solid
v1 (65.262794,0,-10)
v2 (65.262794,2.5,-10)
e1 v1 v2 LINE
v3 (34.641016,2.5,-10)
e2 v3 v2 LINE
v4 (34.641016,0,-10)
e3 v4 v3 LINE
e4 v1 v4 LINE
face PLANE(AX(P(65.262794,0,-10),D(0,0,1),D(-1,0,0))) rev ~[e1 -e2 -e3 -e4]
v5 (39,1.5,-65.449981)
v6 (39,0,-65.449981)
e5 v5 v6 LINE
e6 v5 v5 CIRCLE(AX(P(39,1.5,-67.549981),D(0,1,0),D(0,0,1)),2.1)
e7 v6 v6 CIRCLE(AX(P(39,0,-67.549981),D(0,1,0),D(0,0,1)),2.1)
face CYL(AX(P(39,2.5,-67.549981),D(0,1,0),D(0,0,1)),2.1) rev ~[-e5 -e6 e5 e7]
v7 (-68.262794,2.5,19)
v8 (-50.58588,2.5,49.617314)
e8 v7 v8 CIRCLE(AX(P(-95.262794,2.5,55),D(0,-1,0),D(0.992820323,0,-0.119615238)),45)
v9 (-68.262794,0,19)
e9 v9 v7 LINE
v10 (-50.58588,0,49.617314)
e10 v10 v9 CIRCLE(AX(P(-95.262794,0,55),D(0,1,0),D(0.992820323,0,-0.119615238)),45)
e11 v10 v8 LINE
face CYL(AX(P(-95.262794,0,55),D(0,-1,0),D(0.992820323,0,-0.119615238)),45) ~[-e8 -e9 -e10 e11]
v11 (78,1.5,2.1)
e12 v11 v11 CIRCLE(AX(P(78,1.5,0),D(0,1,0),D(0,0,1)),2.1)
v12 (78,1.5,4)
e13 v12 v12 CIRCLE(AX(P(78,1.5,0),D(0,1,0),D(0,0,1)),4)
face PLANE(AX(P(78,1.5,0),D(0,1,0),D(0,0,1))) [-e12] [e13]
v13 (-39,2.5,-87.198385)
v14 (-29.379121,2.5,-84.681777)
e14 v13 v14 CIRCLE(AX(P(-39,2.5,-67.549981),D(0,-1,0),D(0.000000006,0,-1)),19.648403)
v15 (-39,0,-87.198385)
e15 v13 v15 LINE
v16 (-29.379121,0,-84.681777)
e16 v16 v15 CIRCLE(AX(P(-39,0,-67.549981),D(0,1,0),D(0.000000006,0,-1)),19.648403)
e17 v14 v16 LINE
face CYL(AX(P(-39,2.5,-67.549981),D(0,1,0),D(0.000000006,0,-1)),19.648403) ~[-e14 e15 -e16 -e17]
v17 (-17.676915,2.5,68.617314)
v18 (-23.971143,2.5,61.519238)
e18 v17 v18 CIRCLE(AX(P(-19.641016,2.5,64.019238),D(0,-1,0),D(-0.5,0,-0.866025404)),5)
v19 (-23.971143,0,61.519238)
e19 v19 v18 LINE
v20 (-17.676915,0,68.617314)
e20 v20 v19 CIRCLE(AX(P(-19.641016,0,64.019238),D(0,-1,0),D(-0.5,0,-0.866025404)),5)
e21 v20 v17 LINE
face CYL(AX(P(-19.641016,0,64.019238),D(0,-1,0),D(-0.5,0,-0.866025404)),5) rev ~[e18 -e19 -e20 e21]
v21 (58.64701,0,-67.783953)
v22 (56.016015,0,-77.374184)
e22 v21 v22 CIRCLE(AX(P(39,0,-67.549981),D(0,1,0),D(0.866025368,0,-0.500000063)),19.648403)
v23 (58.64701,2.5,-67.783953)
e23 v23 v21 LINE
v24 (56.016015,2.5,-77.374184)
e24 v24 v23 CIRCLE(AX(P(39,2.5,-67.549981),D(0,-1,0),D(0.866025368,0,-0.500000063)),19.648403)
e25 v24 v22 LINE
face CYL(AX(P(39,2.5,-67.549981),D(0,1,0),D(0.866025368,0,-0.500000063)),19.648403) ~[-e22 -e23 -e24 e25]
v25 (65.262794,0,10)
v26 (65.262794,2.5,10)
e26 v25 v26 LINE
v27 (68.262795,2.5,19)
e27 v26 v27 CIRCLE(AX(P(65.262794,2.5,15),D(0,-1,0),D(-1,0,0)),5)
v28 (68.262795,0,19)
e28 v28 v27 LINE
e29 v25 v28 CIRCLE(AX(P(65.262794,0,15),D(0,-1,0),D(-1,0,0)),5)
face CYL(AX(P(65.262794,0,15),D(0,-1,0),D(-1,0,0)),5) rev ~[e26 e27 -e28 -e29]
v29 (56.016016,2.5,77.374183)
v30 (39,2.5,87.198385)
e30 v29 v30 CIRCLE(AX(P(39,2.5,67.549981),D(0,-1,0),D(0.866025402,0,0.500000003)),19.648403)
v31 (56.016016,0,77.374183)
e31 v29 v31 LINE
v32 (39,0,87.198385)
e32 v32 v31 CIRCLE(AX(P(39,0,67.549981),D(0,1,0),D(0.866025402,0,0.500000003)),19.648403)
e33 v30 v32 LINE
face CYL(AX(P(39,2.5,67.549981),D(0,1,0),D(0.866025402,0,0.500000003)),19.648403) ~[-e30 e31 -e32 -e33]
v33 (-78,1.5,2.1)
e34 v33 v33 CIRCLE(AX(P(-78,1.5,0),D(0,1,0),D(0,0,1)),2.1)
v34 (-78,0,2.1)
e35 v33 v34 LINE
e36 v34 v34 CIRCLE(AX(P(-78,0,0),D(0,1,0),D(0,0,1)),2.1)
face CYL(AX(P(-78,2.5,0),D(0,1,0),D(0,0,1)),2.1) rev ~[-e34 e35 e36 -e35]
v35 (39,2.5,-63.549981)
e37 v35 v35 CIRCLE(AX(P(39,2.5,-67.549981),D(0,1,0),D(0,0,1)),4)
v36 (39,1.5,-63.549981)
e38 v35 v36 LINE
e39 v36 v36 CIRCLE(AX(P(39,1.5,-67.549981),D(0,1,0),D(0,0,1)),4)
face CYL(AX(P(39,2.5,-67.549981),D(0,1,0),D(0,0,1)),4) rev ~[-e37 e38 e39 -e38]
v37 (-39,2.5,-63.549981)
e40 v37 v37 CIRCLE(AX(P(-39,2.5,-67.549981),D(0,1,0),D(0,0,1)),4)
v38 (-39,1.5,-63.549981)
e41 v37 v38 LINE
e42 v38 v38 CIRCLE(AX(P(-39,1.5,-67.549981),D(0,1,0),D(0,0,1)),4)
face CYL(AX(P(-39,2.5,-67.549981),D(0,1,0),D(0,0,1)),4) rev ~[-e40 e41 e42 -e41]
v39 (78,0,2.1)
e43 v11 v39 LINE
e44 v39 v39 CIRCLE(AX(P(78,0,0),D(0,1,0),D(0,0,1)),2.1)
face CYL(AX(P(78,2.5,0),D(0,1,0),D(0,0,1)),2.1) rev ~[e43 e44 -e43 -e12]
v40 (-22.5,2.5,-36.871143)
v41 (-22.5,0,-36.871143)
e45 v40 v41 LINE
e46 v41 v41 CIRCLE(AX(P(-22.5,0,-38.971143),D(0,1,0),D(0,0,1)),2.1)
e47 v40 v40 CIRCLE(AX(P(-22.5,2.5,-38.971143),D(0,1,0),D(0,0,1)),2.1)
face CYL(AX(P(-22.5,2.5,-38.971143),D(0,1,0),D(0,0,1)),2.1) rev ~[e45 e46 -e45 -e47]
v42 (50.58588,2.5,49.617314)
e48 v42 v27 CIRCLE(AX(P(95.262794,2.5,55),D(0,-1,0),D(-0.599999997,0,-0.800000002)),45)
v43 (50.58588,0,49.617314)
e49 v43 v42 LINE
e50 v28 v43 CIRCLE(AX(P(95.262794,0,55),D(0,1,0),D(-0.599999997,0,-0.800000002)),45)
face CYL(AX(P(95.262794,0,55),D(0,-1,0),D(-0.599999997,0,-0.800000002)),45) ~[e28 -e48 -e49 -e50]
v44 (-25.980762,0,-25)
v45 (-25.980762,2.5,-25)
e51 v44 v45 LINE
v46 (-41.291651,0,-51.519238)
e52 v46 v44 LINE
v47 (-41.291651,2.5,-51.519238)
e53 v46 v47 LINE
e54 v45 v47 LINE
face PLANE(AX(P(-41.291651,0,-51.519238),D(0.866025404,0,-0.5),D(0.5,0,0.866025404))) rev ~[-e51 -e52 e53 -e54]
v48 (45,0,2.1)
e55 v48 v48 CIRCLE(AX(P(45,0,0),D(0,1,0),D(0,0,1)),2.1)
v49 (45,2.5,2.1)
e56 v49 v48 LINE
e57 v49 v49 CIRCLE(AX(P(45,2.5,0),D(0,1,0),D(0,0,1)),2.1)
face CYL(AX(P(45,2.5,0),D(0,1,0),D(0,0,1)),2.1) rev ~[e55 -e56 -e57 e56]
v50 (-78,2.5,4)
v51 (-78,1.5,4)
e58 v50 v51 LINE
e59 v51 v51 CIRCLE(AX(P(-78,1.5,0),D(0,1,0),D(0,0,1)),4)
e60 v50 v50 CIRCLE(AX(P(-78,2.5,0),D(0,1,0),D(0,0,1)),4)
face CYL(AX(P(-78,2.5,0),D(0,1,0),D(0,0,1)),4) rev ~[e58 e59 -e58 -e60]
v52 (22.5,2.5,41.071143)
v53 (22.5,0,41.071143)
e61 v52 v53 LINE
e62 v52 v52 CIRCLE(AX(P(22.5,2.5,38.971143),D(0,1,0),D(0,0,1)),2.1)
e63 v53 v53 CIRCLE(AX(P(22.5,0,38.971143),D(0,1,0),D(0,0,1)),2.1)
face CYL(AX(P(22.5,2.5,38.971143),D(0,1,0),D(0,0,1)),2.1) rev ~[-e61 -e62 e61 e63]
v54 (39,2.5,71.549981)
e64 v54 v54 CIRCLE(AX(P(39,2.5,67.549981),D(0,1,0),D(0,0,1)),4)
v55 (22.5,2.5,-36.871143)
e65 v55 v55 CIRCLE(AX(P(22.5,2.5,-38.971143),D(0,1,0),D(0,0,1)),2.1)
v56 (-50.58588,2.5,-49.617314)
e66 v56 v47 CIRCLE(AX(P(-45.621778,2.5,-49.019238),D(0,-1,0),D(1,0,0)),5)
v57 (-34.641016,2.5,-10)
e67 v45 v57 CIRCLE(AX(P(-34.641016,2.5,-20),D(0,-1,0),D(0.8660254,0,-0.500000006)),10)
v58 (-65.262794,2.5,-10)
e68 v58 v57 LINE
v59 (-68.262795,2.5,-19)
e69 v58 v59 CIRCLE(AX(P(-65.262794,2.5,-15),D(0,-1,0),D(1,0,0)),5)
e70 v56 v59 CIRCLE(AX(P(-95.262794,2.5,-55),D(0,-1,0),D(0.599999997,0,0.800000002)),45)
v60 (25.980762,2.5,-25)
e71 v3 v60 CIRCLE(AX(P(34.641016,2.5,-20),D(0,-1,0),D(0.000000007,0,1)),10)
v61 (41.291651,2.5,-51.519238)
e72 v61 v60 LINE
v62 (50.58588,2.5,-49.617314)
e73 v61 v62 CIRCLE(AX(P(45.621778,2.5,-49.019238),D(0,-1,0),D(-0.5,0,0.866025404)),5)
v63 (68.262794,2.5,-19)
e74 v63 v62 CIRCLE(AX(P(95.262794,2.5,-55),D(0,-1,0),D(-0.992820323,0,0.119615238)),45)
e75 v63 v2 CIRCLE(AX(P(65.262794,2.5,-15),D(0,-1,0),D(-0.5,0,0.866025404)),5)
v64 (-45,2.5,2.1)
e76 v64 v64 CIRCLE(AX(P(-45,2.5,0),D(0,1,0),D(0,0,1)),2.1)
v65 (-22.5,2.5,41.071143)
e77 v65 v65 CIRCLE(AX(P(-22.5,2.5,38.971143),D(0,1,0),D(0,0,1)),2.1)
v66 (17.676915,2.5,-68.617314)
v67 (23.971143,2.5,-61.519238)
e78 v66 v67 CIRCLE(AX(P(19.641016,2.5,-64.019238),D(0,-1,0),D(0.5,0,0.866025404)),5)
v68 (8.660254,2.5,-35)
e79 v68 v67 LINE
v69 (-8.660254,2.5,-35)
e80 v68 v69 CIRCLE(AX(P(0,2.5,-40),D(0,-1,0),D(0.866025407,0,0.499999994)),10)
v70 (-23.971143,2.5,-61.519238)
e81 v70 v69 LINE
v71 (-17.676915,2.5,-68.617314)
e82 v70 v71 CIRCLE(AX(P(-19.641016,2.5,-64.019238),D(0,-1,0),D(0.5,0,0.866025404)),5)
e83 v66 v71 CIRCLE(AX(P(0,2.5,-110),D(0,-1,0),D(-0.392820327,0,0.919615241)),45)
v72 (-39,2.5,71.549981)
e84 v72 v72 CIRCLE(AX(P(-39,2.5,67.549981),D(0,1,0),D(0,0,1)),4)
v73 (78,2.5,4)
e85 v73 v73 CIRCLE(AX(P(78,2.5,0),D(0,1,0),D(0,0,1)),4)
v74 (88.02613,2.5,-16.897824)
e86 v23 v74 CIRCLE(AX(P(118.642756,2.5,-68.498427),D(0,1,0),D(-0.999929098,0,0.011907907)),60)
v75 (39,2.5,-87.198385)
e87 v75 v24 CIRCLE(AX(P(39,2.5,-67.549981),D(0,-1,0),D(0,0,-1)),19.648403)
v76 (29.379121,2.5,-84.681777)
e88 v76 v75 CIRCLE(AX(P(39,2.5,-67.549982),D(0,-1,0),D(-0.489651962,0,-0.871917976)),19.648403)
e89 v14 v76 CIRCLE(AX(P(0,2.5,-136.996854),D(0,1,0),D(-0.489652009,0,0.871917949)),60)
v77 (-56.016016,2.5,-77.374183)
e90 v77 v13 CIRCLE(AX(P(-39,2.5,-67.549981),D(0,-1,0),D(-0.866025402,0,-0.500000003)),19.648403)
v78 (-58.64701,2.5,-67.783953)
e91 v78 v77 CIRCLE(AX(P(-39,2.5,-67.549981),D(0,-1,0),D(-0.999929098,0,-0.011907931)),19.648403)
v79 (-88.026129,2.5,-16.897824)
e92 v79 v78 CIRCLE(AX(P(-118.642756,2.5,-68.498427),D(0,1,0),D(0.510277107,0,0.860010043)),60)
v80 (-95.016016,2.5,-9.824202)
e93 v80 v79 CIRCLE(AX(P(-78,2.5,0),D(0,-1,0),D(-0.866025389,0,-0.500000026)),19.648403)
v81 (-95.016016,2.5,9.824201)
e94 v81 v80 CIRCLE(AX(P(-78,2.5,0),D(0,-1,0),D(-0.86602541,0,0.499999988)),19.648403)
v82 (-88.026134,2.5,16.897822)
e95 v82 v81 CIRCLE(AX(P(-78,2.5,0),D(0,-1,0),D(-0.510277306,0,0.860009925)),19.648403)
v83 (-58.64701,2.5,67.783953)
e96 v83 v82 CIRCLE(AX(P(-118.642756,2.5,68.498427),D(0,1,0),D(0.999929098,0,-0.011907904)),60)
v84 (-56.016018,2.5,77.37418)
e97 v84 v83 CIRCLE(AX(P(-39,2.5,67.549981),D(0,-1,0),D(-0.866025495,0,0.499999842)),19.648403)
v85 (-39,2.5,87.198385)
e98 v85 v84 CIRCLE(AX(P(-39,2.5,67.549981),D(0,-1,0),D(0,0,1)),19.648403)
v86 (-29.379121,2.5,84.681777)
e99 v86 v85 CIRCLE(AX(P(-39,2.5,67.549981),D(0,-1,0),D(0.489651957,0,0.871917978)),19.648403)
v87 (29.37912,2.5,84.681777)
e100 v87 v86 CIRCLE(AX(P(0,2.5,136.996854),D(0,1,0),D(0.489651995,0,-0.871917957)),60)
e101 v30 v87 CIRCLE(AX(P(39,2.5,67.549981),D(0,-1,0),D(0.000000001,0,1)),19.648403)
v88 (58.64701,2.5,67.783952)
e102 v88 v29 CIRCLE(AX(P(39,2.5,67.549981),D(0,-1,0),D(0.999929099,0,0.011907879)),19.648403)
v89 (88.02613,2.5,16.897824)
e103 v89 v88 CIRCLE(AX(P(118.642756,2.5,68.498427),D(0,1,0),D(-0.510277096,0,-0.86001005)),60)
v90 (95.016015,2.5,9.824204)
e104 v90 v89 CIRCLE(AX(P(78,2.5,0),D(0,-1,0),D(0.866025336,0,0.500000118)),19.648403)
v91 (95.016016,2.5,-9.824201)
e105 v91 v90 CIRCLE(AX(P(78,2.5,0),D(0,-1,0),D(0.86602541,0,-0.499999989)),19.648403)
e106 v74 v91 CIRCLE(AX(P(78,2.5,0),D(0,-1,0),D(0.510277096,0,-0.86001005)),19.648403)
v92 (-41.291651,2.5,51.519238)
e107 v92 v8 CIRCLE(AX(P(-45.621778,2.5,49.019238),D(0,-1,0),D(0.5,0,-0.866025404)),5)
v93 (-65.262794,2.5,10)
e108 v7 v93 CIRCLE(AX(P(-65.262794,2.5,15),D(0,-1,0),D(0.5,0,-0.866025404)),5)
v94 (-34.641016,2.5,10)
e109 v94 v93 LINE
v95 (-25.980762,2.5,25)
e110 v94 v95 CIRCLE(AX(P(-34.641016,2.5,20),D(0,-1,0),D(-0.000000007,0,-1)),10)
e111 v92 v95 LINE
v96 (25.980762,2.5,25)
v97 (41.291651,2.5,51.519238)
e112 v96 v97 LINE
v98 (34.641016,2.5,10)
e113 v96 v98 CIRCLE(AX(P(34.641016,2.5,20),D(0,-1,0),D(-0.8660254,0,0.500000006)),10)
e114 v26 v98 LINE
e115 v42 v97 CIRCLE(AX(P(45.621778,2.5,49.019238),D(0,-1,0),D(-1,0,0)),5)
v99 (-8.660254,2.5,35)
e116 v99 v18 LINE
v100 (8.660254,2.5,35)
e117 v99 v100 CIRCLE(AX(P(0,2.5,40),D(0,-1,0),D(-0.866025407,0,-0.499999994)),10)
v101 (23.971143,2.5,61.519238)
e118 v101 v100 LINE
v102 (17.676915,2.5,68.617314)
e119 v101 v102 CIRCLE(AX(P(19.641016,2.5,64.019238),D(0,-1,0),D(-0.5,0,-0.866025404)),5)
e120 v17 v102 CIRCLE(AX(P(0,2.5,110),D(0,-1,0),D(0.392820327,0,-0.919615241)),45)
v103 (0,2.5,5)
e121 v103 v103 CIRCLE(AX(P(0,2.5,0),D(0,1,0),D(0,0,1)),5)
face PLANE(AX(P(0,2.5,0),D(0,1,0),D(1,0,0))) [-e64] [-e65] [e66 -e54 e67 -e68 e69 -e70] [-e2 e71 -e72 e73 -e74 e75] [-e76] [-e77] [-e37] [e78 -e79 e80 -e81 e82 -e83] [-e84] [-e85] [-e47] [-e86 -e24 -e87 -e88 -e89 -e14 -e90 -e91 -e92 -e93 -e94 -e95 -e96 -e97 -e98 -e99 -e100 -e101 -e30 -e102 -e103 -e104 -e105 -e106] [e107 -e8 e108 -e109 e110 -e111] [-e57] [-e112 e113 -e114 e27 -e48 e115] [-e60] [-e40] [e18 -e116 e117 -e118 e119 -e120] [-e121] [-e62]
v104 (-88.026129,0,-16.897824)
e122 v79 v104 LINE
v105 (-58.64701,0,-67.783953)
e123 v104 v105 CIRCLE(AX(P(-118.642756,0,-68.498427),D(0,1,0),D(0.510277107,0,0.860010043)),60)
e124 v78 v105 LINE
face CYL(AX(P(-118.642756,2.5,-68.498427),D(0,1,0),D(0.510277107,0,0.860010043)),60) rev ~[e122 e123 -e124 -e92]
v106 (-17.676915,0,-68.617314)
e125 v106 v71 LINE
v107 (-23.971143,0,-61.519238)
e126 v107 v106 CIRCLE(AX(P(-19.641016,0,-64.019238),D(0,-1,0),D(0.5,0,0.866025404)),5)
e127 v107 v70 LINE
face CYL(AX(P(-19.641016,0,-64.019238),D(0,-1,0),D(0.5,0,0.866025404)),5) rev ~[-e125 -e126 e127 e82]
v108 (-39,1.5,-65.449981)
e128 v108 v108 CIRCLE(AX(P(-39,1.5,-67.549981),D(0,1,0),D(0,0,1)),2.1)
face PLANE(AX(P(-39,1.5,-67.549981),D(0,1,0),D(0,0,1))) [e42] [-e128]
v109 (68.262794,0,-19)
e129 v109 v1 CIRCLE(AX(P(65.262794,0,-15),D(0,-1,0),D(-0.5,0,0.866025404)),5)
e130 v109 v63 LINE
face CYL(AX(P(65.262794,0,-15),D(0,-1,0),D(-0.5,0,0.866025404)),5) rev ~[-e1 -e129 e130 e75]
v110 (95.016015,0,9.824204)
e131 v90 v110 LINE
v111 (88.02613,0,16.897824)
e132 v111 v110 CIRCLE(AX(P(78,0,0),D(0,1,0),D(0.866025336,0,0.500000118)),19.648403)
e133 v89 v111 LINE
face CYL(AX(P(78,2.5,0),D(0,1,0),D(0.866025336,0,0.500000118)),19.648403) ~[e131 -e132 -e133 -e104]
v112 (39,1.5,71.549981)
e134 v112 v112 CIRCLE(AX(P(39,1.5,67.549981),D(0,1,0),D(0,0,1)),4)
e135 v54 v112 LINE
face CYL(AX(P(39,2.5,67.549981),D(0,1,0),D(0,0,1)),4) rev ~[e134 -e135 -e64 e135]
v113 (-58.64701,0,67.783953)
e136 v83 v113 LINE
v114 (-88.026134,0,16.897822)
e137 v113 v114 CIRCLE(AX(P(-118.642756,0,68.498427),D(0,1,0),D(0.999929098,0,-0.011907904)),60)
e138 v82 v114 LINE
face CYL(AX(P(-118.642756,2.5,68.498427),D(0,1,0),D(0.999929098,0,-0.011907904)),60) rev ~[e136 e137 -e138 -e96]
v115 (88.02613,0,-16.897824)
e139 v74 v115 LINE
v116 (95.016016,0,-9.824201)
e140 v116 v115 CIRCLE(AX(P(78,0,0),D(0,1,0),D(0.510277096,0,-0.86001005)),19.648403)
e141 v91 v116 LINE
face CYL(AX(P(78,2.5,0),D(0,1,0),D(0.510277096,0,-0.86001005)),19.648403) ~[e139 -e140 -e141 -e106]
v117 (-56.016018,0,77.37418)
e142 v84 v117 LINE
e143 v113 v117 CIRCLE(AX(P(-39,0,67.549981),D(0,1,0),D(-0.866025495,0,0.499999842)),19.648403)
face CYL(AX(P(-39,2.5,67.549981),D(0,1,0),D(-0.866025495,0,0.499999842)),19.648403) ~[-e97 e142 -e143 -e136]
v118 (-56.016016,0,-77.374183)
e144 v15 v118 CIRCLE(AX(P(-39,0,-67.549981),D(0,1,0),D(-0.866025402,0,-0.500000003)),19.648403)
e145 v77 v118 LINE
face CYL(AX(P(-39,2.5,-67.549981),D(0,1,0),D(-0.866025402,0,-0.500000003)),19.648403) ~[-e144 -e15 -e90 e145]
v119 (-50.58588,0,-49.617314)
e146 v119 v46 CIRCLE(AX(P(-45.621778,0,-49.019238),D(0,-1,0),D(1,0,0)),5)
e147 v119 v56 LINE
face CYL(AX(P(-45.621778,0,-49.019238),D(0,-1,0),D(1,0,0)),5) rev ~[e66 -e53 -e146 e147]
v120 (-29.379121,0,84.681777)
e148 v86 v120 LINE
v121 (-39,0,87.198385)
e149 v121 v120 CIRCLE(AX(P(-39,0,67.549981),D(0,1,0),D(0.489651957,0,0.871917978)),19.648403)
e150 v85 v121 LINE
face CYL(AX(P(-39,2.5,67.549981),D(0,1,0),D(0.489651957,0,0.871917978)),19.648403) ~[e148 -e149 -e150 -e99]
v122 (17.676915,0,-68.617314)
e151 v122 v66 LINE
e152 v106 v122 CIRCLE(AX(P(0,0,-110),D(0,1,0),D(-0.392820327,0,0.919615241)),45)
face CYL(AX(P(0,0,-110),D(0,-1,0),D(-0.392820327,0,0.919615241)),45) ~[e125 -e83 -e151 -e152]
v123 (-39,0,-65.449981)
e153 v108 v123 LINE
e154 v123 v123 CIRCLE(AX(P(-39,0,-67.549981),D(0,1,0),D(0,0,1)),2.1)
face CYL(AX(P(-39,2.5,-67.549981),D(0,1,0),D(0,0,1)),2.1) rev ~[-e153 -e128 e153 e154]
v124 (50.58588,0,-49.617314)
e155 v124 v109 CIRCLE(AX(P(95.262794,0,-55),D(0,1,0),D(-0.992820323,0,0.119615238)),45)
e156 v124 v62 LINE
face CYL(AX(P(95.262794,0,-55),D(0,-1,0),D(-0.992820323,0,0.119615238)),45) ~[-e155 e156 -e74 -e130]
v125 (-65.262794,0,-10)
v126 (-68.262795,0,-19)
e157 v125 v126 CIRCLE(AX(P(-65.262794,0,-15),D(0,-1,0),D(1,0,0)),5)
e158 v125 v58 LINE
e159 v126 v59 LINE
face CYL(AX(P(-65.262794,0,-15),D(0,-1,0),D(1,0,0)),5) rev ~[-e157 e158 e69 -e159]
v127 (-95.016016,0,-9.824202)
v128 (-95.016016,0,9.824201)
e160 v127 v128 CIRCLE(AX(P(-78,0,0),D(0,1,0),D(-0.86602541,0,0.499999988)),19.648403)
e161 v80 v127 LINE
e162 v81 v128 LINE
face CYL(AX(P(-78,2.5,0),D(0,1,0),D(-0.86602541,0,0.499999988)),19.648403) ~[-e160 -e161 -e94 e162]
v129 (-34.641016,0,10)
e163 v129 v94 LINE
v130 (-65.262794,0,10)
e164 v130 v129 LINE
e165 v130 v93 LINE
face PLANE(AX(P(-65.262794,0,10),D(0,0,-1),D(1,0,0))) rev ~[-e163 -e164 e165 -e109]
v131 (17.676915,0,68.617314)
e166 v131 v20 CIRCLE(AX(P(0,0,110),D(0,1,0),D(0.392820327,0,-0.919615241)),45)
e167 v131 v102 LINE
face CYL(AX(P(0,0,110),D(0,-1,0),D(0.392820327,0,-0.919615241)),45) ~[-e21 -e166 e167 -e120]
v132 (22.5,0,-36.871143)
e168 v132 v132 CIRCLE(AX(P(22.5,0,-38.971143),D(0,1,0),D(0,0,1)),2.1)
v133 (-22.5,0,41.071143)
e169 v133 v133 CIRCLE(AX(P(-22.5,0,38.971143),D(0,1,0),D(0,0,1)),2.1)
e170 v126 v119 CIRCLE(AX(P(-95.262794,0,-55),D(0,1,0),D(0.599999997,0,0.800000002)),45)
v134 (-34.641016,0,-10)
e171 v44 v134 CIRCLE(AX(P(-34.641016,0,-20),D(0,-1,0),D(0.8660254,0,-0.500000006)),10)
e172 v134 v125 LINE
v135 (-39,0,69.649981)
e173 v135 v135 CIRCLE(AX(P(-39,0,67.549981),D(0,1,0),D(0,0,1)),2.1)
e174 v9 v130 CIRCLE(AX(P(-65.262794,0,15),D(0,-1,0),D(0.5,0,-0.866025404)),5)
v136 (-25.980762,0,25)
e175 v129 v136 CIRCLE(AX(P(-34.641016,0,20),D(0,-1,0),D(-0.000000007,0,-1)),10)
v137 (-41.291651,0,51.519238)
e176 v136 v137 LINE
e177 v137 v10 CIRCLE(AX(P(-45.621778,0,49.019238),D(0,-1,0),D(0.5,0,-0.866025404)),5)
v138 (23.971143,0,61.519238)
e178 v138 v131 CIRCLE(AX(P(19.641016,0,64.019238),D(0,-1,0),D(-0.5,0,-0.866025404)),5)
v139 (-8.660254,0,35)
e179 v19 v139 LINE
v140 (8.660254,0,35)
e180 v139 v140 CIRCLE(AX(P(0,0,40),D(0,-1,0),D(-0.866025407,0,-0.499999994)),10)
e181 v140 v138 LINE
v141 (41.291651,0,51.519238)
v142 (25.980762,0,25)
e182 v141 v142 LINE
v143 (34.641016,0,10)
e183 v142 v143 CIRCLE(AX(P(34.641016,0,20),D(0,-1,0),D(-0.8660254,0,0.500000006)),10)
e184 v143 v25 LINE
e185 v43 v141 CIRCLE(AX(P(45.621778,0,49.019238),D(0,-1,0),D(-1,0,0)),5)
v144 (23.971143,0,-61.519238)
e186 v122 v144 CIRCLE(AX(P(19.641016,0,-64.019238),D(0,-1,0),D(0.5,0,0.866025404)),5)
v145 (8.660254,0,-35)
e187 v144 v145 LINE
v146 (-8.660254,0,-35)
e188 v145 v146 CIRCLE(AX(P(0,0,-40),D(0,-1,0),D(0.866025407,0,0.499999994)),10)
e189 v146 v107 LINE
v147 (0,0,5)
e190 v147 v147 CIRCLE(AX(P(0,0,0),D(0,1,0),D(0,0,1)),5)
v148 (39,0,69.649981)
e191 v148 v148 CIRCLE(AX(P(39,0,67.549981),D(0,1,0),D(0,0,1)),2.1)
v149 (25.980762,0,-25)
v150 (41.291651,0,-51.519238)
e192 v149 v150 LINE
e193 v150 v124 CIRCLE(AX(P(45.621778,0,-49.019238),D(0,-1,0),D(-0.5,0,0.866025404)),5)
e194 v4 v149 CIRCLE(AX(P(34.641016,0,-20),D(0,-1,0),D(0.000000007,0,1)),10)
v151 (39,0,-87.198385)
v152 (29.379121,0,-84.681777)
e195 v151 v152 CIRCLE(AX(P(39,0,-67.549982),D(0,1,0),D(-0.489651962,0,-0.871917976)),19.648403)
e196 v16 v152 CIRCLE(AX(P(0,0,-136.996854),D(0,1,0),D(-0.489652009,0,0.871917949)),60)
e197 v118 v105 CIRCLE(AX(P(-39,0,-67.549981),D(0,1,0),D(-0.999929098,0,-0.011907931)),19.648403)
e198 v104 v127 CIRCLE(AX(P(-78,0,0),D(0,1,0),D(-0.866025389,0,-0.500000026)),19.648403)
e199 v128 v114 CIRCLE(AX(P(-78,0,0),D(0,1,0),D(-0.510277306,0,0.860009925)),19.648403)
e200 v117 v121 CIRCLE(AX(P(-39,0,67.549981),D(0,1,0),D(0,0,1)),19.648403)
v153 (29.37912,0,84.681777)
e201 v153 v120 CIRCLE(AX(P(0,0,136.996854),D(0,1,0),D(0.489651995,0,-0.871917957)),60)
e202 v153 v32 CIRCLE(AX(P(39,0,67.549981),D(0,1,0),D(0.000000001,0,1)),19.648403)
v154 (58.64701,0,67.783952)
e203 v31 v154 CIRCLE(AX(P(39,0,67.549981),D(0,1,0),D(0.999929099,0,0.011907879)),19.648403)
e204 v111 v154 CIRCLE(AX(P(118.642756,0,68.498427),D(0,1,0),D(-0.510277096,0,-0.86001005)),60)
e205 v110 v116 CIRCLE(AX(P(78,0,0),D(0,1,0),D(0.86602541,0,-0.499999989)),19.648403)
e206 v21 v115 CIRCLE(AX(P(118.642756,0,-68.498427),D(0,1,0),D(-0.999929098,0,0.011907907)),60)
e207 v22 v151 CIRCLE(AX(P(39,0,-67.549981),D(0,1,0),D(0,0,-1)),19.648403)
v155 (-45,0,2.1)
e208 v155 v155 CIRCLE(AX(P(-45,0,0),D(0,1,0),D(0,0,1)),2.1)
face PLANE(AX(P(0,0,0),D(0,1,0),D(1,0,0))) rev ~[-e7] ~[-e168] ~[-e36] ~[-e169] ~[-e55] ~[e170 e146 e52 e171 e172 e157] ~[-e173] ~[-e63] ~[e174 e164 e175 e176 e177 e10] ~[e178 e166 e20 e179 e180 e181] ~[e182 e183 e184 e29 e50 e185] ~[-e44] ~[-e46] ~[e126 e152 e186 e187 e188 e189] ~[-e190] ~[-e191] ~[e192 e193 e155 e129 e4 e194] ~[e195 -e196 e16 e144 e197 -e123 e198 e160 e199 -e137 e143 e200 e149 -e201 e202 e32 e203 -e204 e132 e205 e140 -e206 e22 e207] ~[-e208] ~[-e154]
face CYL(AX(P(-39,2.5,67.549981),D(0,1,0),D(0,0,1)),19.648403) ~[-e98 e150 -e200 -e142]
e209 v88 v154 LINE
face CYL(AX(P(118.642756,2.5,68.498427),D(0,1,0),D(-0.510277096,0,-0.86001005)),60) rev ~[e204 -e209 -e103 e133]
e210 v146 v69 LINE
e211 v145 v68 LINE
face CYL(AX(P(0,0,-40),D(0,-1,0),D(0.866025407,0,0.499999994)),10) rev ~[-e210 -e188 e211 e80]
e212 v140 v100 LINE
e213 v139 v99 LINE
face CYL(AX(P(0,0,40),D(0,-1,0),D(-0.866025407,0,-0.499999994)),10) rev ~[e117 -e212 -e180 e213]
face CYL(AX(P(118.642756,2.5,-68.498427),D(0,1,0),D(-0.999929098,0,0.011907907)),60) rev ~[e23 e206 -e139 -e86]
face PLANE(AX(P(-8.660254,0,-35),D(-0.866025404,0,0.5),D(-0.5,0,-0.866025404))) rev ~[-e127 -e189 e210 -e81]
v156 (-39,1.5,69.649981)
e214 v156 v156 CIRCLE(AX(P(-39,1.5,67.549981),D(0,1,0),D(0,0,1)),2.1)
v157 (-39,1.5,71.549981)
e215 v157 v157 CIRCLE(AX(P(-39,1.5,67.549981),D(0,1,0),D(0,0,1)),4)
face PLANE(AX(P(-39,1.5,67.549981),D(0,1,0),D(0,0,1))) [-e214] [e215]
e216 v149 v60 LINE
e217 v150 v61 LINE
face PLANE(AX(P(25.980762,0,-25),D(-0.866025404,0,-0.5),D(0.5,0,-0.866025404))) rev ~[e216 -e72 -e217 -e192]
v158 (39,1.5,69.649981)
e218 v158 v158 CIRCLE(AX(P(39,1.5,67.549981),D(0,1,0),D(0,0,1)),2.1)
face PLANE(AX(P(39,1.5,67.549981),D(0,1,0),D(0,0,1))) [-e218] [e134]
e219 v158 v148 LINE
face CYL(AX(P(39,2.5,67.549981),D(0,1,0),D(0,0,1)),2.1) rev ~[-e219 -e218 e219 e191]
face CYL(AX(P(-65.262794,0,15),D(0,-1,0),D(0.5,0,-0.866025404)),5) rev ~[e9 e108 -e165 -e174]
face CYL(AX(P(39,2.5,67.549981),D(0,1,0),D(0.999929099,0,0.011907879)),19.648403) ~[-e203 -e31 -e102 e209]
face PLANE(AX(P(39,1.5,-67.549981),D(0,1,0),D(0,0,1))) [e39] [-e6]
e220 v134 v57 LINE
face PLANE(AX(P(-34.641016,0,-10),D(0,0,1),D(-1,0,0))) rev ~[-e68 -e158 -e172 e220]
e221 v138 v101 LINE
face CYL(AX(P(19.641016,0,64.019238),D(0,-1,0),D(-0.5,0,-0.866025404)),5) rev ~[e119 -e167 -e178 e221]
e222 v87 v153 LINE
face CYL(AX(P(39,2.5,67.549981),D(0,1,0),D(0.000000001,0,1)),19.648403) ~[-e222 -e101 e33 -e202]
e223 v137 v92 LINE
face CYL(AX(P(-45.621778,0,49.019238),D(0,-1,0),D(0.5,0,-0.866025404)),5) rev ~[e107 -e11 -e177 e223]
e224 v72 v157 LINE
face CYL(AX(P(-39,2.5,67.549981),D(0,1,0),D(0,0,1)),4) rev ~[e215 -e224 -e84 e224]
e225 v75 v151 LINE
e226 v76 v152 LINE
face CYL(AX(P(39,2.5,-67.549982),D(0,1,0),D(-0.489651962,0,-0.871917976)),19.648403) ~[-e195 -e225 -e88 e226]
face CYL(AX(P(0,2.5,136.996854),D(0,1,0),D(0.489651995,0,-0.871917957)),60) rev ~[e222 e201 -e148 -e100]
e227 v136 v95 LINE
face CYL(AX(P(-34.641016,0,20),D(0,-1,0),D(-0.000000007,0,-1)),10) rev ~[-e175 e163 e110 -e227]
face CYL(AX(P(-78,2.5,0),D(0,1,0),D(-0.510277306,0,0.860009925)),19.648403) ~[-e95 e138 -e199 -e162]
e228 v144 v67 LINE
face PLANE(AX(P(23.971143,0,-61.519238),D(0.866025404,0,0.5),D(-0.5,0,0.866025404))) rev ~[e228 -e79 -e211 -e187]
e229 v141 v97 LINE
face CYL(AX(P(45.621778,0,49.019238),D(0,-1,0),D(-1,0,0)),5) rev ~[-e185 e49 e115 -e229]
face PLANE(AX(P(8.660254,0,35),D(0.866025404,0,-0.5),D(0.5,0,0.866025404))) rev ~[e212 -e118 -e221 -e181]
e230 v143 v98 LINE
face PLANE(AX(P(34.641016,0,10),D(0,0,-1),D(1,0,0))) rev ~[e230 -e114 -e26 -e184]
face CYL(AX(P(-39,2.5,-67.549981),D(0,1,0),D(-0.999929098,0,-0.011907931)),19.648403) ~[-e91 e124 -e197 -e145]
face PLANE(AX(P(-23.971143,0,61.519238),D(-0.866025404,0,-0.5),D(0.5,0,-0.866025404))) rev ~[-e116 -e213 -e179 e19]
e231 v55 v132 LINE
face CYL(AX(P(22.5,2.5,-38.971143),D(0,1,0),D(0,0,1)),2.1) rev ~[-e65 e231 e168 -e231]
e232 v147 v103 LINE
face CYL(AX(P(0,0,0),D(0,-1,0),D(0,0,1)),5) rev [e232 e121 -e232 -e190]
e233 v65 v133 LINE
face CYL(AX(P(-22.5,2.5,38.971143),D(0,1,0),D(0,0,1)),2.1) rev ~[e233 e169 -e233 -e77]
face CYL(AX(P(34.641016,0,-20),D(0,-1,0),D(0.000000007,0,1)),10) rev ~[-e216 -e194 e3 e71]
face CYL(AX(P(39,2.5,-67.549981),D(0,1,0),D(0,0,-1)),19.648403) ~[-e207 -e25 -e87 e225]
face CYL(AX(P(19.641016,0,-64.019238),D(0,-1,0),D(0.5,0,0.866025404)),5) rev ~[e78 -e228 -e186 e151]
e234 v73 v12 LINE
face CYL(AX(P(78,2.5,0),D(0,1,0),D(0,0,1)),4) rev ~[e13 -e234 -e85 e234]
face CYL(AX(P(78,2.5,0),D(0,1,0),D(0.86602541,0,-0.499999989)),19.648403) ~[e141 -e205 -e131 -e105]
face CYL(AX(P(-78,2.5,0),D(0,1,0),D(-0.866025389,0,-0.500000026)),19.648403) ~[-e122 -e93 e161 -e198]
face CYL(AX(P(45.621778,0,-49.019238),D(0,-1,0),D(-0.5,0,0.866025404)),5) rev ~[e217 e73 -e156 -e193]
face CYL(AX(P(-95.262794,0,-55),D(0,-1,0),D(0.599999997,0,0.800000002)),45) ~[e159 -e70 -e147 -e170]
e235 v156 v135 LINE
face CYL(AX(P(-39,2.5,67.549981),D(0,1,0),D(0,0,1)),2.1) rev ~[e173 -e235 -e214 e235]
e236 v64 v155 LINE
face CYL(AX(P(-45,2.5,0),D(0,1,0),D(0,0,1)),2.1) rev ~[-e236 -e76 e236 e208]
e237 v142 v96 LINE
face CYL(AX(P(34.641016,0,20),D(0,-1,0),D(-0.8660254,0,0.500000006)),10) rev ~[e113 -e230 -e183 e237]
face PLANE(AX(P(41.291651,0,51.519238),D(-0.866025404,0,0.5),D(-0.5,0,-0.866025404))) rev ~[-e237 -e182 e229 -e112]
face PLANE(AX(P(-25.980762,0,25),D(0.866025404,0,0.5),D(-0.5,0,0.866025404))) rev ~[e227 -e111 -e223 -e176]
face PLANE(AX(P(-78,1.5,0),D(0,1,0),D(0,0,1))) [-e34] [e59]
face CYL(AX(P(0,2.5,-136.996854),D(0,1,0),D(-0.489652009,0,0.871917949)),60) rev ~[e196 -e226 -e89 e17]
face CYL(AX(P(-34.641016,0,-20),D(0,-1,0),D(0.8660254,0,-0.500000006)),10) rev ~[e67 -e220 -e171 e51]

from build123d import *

# Parameters (mm, degrees)
SKETCH_2_R               = 5
EXTRUDE_1_DEPTH          = 2.5
SKETCH_3_R               = 2.1
CUT_EXTRUDE_1_DEPTH      = 2.5
EXTRUDE_2_DEPTH          = 2.5
SKETCH_5_R               = 2.1
CUT_EXTRUDE_2_DEPTH      = 10
CUT_EXTRUDE_3_DEPTH      = 10
SKETCH_10_R              = 4
CUT_EXTRUDE_5_DEPTH      = 1
SKETCH_11_R              = 10
SKETCH_11_R_2            = 5
CUT_EXTRUDE_6_DEPTH      = 131.938989117
PATTERN_CIRCULAR_1_COUNT = 6


with BuildPart() as part:
    # 草图2 → 凸台-拉伸1 (new body)
    with BuildSketch(Plane(origin=(0, 0, 0), x_dir=(1, 0, 0), z_dir=(0, 1, 0))):
        Polygon((-54.5, 0), (-27.25, -47.198384506), (27.25, -47.198384506), (54.5, 0), (27.25, 47.198384506), (-27.25, 47.198384506), align=None)
        with Locations(Location((0, 0, 0), (0, 0, 270))):
            Circle(SKETCH_2_R, mode=Mode.SUBTRACT)
    extrude(amount=EXTRUDE_1_DEPTH)

    # 草图3 → 切除-拉伸1 (cut)
    with BuildSketch(Plane(origin=(0, 2.5, 0), x_dir=(1, 0, 0), z_dir=(0, 1, 0))):
        with Locations(Location((-22.5, 38.97114317, 0), (0, 0, 270))):
            Circle(SKETCH_3_R)
        with Locations(Location((22.5, 38.97114317, 0), (0, 0, 270))):
            Circle(SKETCH_3_R)
        with Locations(Location((45, 0, 0), (0, 0, 270))):
            Circle(SKETCH_3_R)
        with Locations(Location((22.5, -38.97114317, 0), (0, 0, 270))):
            Circle(SKETCH_3_R)
        with Locations(Location((-22.5, -38.97114317, 0), (0, 0, 270))):
            Circle(SKETCH_3_R)
        with Locations(Location((-45, 0, 0), (0, 0, 270))):
            Circle(SKETCH_3_R)
    extrude(amount=-CUT_EXTRUDE_1_DEPTH, mode=Mode.SUBTRACT)

    # 草图4 → 凸台-拉伸2 (add)
    with BuildSketch(Plane(origin=(0, 2.5, 0), x_dir=(1, 0, 0), z_dir=(0, 1, 0))):
        Polygon((-100.688021535, 0), (-50.344010768, -87.198384506), (50.344010768, -87.198384506), (100.688021535, 0), (50.344010768, 87.198384506), (-50.344010768, 87.198384506), align=None)
        Polygon((-54.5, 0), (-27.25, -47.198384506), (27.25, -47.198384506), (54.5, 0), (27.25, 47.198384506), (-27.25, 47.198384506), align=None, mode=Mode.SUBTRACT)
    extrude(amount=-EXTRUDE_2_DEPTH)

    # 草图5 → 切除-拉伸2 (cut)
    with BuildSketch(Plane(origin=(0, 2.5, 0), x_dir=(1, 0, 0), z_dir=(0, 1, 0))):
        with Locations(Location((-39, 67.549981495, 0), (0, 0, 270))):
            Circle(SKETCH_5_R)
        with Locations(Location((39, 67.549981495, 0), (0, 0, 270))):
            Circle(SKETCH_5_R)
        with Locations(Location((78, 0, 0), (0, 0, 270))):
            Circle(SKETCH_5_R)
        with Locations(Location((39, -67.549981495, 0), (0, 0, 270))):
            Circle(SKETCH_5_R)
        with Locations(Location((-39, -67.549981495, 0), (0, 0, 270))):
            Circle(SKETCH_5_R)
        with Locations(Location((-78, 0, 0), (0, 0, 270))):
            Circle(SKETCH_5_R)
    extrude(amount=-CUT_EXTRUDE_2_DEPTH, mode=Mode.SUBTRACT)

    # 草图8 → 切除-拉伸3 (cut)
    with BuildSketch(Plane(origin=(0, 2.5, 0), x_dir=(1, 0, 0), z_dir=(0, 1, 0))):
        with BuildLine():
            ThreePointArc((-38.999999879, 87.198384506), (-34.02771086, 86.55882369), (-29.37912053, 84.681777055))
            ThreePointArc((-29.37912053, 84.681777055), (2.23e-07, 76.996854011), (29.379120918, 84.681777273))
            ThreePointArc((29.379120918, 84.681777273), (34.027711134, 86.558823762), (39, 87.198384506))
            Line((39, 87.198384506), (-38.999999879, 87.198384506))
        make_face()
        with BuildLine():
            ThreePointArc((-58.647009902, 67.78395331), (-57.948284774, 72.748274003), (-56.016016118, 77.374183058))
            Line((-56.016016118, 77.374183058), (-95.016015856, 9.824202017))
            ThreePointArc((-95.016015856, 9.824202017), (-91.975995068, 13.810550415), (-88.026129369, 16.897824439))
            ThreePointArc((-88.026129369, 16.897824439), (-66.68123126, 38.498427568), (-58.647009902, 67.78395331))
        make_face()
        with BuildLine():
            ThreePointArc((-56.016016118, 77.374183058), (-48.824201425, 84.565997693), (-38.999999879, 87.198384506))
            Line((-38.999999879, 87.198384506), (-50.344010768, 87.198384506))
            Line((-50.344010768, 87.198384506), (-56.016016118, 77.374183058))
        make_face()
        with BuildLine():
            Line((50.344010768, 87.198384506), (39, 87.198384506))
            ThreePointArc((39, 87.198384506), (48.824200892, 84.565998001), (56.016015443, 77.374184228))
            Line((56.016015443, 77.374184228), (50.344010768, 87.198384506))
        make_face()
        with BuildLine():
            ThreePointArc((-95.016016282, -9.824201279), (-97.648403011, 4.26e-07), (-95.016015856, 9.824202017))
            Line((-95.016015856, 9.824202017), (-100.688021535, 0))
            Line((-100.688021535, 0), (-95.016016282, -9.824201279))
        make_face()
        with BuildLine():
            ThreePointArc((56.016015443, 77.374184228), (57.948284693, 72.7482743), (58.64700991, 67.783952574))
            ThreePointArc((58.64700991, 67.783952574), (66.681231635, 38.498426919), (88.026130025, 16.89782405))
            ThreePointArc((88.026130025, 16.89782405), (91.975995629, 13.810549846), (95.016016274, 9.824201294))
            Line((95.016016274, 9.824201294), (56.016015443, 77.374184228))
        make_face()
        with BuildLine():
            Line((-95.016016282, -9.824201279), (-56.016017948, -77.374179889))
            ThreePointArc((-56.016017948, -77.374179889), (-57.948285332, -72.748271969), (-58.647009908, -67.783952751))
            ThreePointArc((-58.647009908, -67.783952751), (-66.681232791, -38.498424916), (-88.026134156, -16.897821598))
            ThreePointArc((-88.026134156, -16.897821598), (-91.975997324, -13.810548132), (-95.016016282, -9.824201279))
        make_face()
        with BuildLine():
            Line((100.688021535, 0), (95.016016274, 9.824201294))
            ThreePointArc((95.016016274, 9.824201294), (97.648403011, -1.459e-06), (95.016014815, -9.824203821))
            Line((95.016014815, -9.824203821), (100.688021535, 0))
        make_face()
        with BuildLine():
            ThreePointArc((95.016014815, -9.824203821), (91.975994622, -13.810550865), (88.02613007, -16.897824023))
            ThreePointArc((88.02613007, -16.897824023), (66.681231717, -38.498426777), (58.647009914, -67.783952298))
            ThreePointArc((58.647009914, -67.783952298), (57.948284908, -72.748273515), (56.016016118, -77.374183058))
            Line((56.016016118, -77.374183058), (95.016014815, -9.824203821))
        make_face()
        with BuildLine():
            ThreePointArc((-39, -87.198384506), (-48.824203062, -84.565996748), (-56.016017948, -77.374179889))
            Line((-56.016017948, -77.374179889), (-50.344010768, -87.198384506))
            Line((-50.344010768, -87.198384506), (-39, -87.198384506))
        make_face()
        with BuildLine():
            Line((-39, -87.198384506), (39.000000014, -87.198384506))
            ThreePointArc((39.000000014, -87.198384506), (34.027710452, -86.558823583), (29.379119676, -84.681776576))
            ThreePointArc((29.379119676, -84.681776576), (-7.65e-07, -76.996854011), (-29.37912101, -84.681777325))
            ThreePointArc((-29.37912101, -84.681777325), (-34.027711185, -86.558823775), (-39, -87.198384506))
        make_face()
        with BuildLine():
            Line((50.344010768, -87.198384506), (56.016016118, -77.374183058))
            ThreePointArc((56.016016118, -77.374183058), (48.824201483, -84.565997659), (39.000000014, -87.198384506))
            Line((39.000000014, -87.198384506), (50.344010768, -87.198384506))
        make_face()
    extrude(amount=-CUT_EXTRUDE_3_DEPTH, mode=Mode.SUBTRACT)

    # 草图10 → 切除-拉伸5 (cut)
    with BuildSketch(Plane(origin=(0, 2.5, 0), x_dir=(1, 0, 0), z_dir=(0, 1, 0))):
        with Locations(Location((-78, 0, 0), (0, 0, 270))):
            Circle(SKETCH_10_R)
        with Locations(Location((-39, 67.549981495, 0), (0, 0, 270))):
            Circle(SKETCH_10_R)
        with Locations(Location((39, 67.549981495, 0), (0, 0, 270))):
            Circle(SKETCH_10_R)
        with Locations(Location((78, 0, 0), (0, 0, 270))):
            Circle(SKETCH_10_R)
        with Locations(Location((39, -67.549981495, 0), (0, 0, 270))):
            Circle(SKETCH_10_R)
        with Locations(Location((-39, -67.549981495, 0), (0, 0, 270))):
            Circle(SKETCH_10_R)
    extrude(amount=-CUT_EXTRUDE_5_DEPTH, mode=Mode.SUBTRACT)

    # 草图11 → 切除-拉伸6 (cut, through all)
    with BuildSketch(Plane.XZ):
        with BuildLine():
            Line((-34.641016151, -10), (-65.262794416, -10))
            ThreePointArc((-65.262794416, -10), (-61.72726051, -11.464466094), (-60.262794416, -15))
            ThreePointArc((-60.262794416, -15), (-63.026726517, -19.472135994), (-68.262794556, -18.999999895))
            ThreePointArc((-68.262794556, -18.999999895), (-56.291651297, -32.499999912), (-50.585879884, -49.617314069))
            ThreePointArc((-50.585879884, -49.617314069), (-45.921354555, -44.028220551), (-40.621778265, -49.019237886))
            ThreePointArc((-40.621778265, -49.019237886), (-40.792149144, -50.313333152), (-41.291651287, -51.519237957))
            Line((-41.291651287, -51.519237957), (-25.980762149, -25.000000062))
            ThreePointArc((-25.980762149, -25.000000062), (-43.301270207, -24.999999969), (-34.641016151, -10))
        make_face()
        with Locations((-34.641016151, -20)):
            Circle(SKETCH_11_R)
        with Locations((-65.262794416, -15)):
            Circle(SKETCH_11_R_2)
        with Locations((-45.621778265, -49.019237886)):
            Circle(SKETCH_11_R_2)
    cut_extrude_6 = extrude(amount=-CUT_EXTRUDE_6_DEPTH, mode=Mode.SUBTRACT)

    # 阵列(圆周)1: 切除-拉伸6 ×6 about axis
    pattern_circular_1_axis = Axis((0, 0, 0), (0, 1, 0))
    for i in range(1, PATTERN_CIRCULAR_1_COUNT):
        add(cut_extrude_6.rotate(pattern_circular_1_axis, i * 360 / PATTERN_CIRCULAR_1_COUNT), mode=Mode.SUBTRACT)


solid = part.part
